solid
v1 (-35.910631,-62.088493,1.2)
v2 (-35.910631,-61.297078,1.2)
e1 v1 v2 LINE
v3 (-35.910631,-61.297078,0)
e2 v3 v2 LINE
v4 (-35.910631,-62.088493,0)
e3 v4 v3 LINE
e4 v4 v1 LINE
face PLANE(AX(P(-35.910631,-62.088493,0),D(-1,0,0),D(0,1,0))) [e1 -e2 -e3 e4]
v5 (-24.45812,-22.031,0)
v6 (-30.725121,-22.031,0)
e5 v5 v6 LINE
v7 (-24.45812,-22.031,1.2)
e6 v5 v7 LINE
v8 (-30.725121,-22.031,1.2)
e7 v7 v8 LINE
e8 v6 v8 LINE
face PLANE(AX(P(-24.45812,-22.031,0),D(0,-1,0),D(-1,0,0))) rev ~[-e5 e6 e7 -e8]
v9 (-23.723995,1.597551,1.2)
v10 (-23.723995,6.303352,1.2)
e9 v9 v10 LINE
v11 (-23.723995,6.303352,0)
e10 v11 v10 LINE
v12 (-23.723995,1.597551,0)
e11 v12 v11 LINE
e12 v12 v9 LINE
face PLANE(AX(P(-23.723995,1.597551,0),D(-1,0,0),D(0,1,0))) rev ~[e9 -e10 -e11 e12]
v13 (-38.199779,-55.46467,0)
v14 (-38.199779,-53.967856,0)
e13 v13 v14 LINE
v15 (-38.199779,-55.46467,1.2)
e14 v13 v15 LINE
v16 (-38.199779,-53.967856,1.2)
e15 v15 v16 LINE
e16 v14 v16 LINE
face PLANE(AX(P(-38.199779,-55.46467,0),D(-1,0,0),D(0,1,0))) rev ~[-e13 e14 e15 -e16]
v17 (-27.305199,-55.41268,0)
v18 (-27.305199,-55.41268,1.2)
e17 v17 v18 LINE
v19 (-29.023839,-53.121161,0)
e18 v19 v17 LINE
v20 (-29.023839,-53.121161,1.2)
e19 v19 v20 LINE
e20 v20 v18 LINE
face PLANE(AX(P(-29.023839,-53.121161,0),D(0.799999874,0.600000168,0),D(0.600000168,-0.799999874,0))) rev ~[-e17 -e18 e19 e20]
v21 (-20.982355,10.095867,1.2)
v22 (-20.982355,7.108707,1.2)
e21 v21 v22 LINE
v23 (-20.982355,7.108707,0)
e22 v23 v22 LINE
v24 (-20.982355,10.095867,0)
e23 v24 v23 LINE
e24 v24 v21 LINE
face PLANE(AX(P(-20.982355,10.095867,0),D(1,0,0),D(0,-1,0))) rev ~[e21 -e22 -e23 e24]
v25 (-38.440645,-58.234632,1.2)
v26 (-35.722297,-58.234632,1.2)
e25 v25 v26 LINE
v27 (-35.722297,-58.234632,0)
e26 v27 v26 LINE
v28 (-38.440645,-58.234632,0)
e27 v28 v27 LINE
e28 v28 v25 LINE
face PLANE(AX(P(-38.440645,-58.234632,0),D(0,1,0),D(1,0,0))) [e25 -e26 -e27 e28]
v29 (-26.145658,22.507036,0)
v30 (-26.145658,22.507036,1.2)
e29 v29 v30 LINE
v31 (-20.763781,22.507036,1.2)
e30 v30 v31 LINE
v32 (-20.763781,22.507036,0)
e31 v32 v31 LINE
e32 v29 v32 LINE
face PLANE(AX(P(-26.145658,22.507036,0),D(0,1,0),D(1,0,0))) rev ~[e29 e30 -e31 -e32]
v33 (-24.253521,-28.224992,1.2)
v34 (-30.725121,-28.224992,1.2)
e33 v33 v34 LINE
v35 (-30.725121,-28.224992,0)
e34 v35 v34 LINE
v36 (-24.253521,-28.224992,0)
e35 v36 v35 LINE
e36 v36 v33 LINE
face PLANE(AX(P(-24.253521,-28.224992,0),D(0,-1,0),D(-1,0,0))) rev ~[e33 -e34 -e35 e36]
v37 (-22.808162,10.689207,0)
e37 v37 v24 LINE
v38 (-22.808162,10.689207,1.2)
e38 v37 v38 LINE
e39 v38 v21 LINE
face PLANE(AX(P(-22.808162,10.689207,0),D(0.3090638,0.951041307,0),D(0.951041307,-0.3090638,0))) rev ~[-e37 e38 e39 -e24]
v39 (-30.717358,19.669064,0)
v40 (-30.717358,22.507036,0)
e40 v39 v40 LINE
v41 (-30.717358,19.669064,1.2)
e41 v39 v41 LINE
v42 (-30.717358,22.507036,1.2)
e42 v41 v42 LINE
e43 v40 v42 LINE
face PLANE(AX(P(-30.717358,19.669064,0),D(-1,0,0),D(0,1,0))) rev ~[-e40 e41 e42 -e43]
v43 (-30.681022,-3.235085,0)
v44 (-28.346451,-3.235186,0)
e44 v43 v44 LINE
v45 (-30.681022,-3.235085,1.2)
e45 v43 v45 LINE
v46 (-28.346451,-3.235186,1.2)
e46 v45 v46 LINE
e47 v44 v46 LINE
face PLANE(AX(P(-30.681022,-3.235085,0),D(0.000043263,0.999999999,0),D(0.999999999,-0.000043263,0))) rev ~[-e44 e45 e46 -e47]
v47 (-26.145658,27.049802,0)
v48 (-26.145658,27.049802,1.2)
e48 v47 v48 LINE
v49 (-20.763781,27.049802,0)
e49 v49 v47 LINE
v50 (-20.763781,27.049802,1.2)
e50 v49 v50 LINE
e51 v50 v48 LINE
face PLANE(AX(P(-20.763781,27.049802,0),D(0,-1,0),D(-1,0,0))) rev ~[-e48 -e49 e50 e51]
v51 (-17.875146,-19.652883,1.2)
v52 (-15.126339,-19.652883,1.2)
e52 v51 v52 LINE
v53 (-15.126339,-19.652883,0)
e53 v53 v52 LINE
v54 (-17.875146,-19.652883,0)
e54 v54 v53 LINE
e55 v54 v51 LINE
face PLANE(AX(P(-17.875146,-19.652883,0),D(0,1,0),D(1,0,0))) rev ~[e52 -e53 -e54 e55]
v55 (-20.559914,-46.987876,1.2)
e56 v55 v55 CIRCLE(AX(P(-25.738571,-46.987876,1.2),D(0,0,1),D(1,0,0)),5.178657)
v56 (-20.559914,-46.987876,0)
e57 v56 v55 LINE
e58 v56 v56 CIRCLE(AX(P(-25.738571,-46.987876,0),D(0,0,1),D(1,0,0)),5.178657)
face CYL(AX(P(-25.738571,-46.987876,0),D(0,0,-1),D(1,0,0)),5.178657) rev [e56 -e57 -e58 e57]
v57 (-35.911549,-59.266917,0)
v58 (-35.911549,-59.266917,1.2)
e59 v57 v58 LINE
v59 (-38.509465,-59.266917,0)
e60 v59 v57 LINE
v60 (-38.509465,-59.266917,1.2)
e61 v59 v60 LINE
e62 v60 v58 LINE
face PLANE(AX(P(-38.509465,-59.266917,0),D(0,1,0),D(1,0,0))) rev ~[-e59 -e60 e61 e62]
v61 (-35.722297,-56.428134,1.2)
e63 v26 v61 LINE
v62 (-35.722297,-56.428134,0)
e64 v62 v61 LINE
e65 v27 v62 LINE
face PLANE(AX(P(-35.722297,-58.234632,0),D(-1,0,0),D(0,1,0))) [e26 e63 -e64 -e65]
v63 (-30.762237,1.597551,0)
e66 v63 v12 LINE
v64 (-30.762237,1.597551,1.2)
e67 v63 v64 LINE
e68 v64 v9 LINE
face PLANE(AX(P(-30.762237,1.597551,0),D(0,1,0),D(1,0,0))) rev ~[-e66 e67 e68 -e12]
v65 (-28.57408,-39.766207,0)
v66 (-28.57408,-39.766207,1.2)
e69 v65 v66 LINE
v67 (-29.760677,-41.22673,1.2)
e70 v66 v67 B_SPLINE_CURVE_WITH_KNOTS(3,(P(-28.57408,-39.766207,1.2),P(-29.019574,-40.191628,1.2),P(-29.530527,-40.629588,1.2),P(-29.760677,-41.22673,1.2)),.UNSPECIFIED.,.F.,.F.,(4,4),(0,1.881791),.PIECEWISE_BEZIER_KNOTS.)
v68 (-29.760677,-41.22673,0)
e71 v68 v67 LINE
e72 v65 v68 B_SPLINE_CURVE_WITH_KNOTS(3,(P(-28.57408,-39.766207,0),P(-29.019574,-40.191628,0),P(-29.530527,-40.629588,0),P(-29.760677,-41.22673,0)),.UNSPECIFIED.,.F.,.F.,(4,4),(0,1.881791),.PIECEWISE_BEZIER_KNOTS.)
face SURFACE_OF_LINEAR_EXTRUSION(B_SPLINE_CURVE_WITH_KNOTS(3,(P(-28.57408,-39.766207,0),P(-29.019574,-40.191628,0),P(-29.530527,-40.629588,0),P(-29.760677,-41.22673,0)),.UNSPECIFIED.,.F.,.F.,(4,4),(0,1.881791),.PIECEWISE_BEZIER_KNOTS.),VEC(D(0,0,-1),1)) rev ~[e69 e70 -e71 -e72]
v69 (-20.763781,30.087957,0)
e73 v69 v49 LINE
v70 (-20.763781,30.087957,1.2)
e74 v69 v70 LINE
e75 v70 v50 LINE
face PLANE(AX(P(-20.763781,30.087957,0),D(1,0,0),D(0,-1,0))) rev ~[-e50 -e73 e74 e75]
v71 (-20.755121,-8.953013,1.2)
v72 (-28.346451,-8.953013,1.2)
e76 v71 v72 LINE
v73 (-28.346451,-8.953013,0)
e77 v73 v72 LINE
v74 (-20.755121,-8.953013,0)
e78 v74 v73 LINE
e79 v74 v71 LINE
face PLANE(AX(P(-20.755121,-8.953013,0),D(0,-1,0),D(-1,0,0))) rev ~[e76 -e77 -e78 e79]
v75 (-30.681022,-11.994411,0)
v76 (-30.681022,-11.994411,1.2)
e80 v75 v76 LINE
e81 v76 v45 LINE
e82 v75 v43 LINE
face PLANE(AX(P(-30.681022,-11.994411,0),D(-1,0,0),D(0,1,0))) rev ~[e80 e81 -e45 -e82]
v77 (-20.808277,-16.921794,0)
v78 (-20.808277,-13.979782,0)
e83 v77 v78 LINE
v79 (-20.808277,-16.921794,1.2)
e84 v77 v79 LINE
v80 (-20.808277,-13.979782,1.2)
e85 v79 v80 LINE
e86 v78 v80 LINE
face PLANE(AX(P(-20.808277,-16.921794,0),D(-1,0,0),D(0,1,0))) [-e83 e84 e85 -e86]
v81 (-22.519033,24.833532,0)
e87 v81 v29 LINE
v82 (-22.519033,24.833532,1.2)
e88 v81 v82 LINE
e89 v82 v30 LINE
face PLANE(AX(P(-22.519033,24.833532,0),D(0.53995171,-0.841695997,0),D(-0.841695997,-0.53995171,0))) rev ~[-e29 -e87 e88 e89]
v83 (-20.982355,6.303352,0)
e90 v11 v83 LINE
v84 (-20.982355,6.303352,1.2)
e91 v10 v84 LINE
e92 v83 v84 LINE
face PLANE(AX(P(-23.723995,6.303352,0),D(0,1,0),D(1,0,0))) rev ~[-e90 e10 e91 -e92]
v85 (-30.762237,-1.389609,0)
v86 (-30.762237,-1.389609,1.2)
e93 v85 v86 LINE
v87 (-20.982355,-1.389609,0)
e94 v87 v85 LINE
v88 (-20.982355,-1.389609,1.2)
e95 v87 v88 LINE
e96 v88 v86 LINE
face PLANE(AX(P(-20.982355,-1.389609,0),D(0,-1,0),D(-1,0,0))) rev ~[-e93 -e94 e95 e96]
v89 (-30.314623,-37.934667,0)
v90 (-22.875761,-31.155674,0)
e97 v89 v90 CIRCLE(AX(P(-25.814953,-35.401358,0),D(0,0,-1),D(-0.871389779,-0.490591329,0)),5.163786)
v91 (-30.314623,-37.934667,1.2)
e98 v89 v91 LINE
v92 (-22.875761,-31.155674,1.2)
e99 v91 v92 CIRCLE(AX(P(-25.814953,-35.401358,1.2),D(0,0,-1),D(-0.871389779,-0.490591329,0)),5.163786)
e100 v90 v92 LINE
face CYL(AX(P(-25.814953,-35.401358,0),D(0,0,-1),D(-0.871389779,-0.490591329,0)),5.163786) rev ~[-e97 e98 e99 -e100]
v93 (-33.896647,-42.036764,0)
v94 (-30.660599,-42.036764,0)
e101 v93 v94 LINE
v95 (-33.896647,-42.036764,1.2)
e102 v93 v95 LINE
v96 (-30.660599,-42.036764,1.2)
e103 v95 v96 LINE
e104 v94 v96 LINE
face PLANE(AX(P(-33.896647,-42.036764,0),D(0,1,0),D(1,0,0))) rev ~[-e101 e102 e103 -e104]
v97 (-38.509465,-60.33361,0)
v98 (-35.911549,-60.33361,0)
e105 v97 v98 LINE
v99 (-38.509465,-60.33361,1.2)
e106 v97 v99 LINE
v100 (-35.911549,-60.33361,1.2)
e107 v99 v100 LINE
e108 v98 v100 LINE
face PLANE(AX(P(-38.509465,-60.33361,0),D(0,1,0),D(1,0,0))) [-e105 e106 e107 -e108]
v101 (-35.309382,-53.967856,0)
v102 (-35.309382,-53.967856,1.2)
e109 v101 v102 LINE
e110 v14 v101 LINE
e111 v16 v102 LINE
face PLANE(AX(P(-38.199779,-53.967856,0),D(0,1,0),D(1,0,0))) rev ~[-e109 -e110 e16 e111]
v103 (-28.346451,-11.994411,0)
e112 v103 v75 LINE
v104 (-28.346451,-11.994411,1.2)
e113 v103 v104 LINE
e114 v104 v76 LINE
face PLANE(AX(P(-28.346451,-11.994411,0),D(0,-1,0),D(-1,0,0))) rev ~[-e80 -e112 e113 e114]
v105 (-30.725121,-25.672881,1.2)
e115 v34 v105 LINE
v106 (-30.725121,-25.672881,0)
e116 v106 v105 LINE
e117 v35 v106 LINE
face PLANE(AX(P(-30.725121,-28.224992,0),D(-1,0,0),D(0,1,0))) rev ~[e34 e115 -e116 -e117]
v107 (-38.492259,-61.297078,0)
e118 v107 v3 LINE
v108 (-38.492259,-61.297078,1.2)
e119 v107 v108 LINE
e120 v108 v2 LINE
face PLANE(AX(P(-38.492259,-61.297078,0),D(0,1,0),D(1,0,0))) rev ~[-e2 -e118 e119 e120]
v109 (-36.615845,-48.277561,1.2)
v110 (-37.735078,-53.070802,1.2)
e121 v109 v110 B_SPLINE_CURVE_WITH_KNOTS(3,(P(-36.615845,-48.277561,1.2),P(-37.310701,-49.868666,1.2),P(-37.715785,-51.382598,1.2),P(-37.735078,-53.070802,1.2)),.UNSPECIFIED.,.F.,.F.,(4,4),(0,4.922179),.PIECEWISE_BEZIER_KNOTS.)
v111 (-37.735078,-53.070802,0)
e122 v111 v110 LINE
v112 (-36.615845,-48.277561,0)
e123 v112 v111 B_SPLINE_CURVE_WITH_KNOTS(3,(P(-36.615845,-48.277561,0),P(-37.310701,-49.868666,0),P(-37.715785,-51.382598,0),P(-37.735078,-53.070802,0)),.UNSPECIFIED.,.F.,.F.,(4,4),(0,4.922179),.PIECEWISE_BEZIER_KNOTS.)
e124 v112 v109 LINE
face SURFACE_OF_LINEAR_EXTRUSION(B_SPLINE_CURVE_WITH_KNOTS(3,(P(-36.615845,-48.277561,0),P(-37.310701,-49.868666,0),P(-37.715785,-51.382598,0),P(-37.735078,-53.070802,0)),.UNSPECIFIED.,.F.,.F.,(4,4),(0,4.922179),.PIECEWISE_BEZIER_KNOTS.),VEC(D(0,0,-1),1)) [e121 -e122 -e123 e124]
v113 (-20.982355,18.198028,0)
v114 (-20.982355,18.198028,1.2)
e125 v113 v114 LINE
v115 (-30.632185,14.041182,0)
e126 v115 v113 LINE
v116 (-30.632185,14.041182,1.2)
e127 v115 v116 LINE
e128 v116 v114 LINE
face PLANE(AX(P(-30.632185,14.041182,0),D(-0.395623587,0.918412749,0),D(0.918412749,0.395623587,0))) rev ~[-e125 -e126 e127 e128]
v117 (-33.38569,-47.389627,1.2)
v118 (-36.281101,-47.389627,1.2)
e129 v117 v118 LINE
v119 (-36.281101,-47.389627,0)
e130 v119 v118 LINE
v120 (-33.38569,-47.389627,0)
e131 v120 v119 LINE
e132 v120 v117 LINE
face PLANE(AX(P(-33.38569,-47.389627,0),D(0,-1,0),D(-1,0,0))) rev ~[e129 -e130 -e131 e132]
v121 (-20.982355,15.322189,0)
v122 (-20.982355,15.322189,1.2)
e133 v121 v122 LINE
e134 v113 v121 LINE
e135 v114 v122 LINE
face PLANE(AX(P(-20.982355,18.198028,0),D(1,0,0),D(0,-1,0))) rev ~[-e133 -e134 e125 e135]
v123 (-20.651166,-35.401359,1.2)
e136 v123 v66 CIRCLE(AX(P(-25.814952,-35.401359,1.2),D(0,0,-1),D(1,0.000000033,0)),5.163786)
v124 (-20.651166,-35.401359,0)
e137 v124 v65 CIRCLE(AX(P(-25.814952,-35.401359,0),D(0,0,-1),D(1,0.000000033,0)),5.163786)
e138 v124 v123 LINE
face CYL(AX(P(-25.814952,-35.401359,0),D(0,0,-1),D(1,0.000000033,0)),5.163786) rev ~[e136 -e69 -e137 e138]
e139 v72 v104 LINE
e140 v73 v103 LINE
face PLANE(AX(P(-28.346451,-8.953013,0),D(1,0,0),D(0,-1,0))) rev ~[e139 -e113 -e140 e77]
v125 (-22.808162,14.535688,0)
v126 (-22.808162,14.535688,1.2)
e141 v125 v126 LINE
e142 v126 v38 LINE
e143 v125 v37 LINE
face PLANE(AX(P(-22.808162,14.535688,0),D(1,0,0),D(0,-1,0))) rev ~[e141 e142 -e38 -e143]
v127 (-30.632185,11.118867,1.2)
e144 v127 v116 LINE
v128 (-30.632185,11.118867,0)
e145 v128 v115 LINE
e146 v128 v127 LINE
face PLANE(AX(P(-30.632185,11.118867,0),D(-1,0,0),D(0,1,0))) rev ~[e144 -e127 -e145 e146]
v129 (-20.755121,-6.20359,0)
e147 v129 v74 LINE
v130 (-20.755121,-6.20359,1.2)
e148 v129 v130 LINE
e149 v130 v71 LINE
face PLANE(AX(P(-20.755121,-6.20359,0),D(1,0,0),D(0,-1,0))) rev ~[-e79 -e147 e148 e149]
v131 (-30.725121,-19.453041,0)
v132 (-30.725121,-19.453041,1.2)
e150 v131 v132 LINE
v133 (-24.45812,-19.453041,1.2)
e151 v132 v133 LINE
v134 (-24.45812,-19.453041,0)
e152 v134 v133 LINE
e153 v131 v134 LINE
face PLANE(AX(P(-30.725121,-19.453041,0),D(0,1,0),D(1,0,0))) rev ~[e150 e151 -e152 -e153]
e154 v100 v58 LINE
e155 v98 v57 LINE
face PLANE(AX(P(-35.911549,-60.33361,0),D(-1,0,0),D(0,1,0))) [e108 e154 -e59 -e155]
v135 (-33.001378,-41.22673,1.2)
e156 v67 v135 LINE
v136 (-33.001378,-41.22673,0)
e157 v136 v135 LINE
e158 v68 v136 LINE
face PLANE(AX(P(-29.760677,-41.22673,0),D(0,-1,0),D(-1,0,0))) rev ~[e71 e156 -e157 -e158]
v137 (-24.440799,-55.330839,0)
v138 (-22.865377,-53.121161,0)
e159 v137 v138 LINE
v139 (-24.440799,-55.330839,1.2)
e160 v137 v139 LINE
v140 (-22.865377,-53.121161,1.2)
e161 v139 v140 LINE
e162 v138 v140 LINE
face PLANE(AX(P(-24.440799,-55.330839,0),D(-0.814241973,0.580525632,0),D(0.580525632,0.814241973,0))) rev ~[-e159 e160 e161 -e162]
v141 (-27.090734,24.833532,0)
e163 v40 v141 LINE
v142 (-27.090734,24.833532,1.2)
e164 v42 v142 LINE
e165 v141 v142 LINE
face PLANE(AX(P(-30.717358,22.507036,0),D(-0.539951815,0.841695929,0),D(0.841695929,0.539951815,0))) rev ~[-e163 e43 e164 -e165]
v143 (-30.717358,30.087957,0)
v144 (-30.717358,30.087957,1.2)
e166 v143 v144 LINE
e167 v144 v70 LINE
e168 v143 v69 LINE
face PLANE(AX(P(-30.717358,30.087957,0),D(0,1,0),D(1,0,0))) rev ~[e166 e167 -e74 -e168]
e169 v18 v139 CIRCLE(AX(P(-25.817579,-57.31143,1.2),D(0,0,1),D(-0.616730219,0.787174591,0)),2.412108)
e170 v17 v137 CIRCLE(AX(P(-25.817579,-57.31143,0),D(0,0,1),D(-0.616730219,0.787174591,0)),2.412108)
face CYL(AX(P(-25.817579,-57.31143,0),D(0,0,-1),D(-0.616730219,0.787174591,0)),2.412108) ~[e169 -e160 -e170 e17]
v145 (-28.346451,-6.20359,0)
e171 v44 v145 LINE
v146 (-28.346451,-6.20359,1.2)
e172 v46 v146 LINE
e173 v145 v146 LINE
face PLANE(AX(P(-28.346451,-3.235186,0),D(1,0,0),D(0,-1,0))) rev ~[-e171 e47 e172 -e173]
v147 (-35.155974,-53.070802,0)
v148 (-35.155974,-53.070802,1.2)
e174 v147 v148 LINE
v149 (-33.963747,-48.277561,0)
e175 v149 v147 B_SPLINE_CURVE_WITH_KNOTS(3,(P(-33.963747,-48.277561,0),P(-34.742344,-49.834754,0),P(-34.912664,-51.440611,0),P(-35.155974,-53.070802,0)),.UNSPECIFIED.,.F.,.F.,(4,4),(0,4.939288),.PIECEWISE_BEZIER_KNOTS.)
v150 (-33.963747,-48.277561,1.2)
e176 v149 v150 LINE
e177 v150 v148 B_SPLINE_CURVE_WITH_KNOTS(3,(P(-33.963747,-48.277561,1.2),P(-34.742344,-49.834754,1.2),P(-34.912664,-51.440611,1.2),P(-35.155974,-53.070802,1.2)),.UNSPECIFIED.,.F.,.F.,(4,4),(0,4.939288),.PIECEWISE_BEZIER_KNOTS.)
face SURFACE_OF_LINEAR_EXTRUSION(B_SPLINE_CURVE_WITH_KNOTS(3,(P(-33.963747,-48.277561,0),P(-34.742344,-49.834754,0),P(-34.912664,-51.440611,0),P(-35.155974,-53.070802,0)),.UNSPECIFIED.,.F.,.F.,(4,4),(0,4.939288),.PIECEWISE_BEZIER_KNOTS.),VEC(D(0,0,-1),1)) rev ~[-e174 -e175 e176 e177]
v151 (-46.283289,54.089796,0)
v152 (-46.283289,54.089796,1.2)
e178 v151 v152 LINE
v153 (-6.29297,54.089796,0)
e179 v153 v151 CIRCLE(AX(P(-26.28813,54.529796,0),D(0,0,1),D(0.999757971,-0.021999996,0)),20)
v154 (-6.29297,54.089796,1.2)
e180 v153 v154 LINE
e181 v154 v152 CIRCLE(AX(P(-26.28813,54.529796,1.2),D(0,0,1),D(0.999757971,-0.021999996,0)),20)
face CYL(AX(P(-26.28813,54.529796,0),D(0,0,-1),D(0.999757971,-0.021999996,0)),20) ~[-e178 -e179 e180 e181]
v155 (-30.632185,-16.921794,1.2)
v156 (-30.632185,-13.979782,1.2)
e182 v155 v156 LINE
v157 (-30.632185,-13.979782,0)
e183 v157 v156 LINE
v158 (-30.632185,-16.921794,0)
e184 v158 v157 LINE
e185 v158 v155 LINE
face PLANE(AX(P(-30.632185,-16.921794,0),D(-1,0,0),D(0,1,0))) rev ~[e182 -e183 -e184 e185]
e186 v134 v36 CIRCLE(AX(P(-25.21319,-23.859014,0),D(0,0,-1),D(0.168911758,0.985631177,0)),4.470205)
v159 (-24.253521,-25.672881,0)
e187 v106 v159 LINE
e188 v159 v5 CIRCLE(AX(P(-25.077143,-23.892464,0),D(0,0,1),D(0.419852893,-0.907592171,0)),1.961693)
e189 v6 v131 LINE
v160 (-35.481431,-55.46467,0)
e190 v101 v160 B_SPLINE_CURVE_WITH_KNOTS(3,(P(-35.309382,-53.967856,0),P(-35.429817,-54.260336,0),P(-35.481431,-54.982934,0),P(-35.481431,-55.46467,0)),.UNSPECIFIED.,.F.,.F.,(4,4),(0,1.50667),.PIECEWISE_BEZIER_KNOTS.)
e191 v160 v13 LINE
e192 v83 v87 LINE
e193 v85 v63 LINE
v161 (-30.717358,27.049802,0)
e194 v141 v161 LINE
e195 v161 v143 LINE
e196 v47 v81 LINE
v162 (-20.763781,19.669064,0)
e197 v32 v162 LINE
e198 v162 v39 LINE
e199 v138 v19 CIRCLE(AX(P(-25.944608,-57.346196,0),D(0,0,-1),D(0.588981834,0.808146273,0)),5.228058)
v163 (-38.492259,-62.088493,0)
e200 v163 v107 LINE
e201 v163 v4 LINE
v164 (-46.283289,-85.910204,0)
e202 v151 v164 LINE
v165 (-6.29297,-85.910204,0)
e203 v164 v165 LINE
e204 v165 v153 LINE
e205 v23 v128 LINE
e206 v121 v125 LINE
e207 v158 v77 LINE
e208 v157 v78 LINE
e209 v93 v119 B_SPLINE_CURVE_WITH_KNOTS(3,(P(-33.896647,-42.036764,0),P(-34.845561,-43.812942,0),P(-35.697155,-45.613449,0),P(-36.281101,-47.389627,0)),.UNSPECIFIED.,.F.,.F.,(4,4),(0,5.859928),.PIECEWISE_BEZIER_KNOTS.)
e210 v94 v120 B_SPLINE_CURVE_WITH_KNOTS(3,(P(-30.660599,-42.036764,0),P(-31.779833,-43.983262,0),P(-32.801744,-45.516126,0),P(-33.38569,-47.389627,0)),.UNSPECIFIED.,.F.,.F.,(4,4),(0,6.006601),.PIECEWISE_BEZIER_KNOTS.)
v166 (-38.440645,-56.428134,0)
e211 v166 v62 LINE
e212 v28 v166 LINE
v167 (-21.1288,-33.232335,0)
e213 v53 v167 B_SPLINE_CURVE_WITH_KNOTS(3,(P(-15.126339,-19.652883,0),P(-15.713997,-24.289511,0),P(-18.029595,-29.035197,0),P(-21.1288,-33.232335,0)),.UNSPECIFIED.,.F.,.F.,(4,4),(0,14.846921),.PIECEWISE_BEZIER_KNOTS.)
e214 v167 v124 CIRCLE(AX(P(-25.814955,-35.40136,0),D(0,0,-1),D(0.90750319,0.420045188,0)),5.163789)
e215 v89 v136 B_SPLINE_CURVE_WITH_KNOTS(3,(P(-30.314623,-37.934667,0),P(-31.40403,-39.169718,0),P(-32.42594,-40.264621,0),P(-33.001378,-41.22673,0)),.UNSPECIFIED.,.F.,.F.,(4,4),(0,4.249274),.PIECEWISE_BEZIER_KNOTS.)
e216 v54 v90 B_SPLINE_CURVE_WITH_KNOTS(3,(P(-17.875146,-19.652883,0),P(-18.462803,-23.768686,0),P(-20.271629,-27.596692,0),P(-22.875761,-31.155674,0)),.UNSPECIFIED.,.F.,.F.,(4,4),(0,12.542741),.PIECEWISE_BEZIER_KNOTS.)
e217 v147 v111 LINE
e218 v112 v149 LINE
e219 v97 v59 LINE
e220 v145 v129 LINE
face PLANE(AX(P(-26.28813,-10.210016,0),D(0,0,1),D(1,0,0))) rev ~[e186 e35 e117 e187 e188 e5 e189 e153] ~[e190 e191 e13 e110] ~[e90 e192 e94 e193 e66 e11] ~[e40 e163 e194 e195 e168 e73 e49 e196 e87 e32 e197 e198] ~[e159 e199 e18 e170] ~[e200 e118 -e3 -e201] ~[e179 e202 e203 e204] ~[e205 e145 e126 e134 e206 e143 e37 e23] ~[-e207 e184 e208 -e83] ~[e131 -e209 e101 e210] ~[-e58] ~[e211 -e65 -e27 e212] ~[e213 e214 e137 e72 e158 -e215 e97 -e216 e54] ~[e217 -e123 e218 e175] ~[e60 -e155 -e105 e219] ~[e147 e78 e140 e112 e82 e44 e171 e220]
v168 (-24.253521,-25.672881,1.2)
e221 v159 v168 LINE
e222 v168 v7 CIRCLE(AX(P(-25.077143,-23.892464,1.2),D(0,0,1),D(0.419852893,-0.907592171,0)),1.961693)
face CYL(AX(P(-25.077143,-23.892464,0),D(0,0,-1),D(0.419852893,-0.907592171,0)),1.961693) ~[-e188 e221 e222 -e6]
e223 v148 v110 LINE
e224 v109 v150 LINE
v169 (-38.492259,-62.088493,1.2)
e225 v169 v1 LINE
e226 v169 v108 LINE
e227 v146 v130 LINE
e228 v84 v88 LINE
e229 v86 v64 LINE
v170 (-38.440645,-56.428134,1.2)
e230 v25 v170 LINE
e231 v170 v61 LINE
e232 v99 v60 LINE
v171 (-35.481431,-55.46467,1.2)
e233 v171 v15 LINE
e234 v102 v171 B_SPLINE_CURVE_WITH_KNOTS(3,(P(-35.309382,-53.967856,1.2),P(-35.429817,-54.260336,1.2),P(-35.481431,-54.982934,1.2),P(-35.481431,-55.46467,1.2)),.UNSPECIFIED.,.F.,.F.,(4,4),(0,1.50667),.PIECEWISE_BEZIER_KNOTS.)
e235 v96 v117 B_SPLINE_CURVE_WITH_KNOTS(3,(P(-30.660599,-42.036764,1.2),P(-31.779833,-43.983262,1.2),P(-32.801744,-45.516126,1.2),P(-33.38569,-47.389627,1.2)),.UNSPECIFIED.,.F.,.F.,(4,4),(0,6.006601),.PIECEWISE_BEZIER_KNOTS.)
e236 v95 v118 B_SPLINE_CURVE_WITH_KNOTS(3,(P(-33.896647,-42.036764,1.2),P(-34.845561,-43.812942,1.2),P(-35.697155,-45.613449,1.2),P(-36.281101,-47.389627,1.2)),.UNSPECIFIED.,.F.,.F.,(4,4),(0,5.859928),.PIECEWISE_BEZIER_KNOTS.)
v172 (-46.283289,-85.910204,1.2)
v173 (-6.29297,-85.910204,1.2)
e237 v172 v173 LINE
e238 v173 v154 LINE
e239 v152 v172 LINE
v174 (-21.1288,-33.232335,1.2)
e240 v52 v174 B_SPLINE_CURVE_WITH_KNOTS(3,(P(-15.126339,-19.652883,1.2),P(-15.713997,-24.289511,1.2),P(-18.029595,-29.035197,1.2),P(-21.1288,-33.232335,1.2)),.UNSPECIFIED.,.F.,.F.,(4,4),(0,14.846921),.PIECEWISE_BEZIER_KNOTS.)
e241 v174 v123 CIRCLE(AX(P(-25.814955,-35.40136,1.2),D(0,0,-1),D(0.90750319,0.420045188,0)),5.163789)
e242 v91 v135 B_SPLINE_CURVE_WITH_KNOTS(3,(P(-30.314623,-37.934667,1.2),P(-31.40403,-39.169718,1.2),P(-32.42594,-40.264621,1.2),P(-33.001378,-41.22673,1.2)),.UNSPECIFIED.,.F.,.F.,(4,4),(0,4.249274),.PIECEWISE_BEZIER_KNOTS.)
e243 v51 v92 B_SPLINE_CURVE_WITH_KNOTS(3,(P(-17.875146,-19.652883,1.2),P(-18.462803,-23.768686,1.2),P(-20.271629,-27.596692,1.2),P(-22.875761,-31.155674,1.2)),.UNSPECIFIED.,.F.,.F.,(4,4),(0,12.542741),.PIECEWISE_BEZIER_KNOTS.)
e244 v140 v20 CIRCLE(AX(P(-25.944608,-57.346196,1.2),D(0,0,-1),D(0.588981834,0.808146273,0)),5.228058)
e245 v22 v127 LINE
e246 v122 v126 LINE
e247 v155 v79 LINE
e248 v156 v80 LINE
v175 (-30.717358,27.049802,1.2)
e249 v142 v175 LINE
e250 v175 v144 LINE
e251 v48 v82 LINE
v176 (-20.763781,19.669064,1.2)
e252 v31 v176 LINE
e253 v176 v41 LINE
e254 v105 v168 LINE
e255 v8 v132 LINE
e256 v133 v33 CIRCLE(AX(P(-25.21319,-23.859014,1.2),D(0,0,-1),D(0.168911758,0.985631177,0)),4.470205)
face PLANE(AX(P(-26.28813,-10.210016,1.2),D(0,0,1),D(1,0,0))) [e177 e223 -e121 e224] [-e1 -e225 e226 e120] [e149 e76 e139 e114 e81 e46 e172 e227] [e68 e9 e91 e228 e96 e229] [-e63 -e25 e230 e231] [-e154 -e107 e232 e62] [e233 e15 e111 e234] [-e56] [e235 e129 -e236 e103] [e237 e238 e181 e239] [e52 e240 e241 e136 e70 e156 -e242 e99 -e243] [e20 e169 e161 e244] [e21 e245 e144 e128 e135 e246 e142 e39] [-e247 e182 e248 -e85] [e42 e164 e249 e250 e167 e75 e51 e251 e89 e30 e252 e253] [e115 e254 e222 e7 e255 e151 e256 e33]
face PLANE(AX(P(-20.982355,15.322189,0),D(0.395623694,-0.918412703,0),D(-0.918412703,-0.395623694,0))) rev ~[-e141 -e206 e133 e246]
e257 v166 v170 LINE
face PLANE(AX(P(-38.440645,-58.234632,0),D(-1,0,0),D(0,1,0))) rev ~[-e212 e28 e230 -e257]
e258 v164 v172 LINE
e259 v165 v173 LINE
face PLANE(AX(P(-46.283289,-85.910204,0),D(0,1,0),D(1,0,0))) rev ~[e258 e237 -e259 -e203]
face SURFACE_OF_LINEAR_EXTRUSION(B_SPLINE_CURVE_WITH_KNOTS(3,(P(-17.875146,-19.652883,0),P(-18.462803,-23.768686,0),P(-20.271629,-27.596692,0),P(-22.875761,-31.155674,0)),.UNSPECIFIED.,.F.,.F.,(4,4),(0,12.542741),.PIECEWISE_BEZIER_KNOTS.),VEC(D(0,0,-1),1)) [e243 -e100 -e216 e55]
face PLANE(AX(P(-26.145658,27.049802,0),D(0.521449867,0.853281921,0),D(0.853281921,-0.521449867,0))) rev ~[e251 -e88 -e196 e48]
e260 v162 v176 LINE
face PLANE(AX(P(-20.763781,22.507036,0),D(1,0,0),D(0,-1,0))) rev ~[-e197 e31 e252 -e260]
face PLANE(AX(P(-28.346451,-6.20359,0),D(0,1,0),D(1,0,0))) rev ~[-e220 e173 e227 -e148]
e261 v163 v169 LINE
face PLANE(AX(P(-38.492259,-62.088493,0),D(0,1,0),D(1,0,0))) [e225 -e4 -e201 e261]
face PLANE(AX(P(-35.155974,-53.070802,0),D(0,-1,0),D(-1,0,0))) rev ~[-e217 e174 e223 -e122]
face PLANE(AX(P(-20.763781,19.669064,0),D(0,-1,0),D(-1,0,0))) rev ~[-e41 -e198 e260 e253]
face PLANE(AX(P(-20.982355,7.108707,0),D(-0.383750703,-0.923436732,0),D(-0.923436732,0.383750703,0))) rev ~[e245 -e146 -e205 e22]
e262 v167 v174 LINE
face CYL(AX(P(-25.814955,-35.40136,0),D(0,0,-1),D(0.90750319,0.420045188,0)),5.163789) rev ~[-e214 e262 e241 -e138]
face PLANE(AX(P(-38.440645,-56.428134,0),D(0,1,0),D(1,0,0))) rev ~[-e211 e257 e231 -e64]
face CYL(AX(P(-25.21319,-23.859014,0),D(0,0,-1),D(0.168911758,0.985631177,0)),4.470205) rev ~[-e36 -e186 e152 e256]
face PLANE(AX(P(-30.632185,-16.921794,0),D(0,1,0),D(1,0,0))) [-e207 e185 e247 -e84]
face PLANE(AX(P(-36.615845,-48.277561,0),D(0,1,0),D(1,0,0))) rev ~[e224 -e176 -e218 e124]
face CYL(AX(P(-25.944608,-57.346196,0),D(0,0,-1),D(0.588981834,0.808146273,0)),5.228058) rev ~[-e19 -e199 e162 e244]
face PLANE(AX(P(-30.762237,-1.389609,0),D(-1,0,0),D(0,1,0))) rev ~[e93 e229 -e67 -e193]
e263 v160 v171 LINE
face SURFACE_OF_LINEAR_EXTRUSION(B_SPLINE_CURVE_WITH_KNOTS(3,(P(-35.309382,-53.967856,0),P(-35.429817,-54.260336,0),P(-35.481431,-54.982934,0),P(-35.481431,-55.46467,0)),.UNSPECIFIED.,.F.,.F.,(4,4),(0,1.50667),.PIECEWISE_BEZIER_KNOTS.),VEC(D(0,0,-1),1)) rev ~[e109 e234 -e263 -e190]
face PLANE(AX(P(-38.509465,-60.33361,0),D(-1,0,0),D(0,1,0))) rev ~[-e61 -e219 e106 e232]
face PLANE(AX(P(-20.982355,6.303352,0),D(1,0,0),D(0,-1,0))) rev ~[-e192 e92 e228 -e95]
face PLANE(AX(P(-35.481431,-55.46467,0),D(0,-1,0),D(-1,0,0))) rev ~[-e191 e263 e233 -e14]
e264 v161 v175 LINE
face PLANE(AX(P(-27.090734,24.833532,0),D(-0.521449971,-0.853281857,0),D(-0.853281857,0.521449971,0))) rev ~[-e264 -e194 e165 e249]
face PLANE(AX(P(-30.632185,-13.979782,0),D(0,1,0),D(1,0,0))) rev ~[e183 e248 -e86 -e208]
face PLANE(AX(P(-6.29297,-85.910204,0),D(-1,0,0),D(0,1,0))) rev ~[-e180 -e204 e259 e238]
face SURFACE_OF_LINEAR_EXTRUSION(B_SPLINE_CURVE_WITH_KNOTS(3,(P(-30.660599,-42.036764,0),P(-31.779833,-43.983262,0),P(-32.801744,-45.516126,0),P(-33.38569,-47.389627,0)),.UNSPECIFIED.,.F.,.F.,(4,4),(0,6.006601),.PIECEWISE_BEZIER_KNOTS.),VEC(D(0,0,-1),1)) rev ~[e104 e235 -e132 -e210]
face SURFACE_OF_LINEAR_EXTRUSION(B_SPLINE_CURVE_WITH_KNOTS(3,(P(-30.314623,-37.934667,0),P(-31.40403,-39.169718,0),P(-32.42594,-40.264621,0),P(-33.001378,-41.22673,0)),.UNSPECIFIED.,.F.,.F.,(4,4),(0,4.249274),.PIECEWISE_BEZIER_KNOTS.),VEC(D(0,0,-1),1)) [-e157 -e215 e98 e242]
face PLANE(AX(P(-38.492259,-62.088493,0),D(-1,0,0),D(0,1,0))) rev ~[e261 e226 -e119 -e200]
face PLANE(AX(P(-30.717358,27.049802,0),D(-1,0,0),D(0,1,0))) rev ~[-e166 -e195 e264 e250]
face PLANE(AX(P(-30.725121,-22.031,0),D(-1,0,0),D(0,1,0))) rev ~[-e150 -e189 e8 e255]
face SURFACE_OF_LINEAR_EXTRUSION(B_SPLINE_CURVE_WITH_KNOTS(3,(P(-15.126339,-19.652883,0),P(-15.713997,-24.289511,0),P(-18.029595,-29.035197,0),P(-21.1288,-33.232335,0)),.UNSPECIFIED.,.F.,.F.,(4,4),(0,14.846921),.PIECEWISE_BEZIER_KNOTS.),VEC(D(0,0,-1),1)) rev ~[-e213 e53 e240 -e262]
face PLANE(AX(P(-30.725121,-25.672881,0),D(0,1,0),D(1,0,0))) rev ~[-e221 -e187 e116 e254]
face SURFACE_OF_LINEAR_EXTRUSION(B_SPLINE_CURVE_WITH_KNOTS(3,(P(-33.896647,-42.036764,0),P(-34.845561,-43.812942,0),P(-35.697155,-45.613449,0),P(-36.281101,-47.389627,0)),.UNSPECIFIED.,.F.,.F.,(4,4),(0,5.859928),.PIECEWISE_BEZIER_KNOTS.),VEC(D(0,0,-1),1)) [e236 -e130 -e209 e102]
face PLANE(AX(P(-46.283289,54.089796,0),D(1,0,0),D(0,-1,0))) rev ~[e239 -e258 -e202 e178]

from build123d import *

# Parameters (mm, degrees)
F0_W     = 2.581628
F0_H     = 0.791415
F0_W_2   = 2.597917
F0_H_2   = 1.066693
F0_W_3   = 2.718348
F0_H_3   = 1.806498
F0_R     = 5.178657
F0_W_4   = 9.823907
F0_H_4   = 2.942012
F1_DEPTH = 1.2


with BuildPart() as f1:
    # F0 (on Top) → F1 (new body)
    with BuildSketch(Plane.XY):
        with BuildLine():
            Line((-6.29297, -85.910204), (-6.29297, 54.089796))
            ThreePointArc((-6.29297, 54.089796), (-26.288129, 74.529796), (-46.283289, 54.089796))
            Line((-46.283289, 54.089796), (-46.283289, -85.910204))
            Line((-46.283289, -85.910204), (-6.29297, -85.910204))
        make_face()
        with Locations((-37.201445, -61.692785)):
            Rectangle(F0_W, F0_H, mode=Mode.SUBTRACT)
        with Locations((-37.210507, -59.800263)):
            Rectangle(F0_W_2, F0_H_2, mode=Mode.SUBTRACT)
        with Locations((-37.081471, -57.331383)):
            Rectangle(F0_W_3, F0_H_3, mode=Mode.SUBTRACT)
        with BuildLine():
            Line((-35.481431, -55.46467), (-38.199779, -55.46467))
            Line((-38.199779, -55.46467), (-38.199779, -53.967856))
            Line((-38.199779, -53.967856), (-35.309382, -53.967856))
            add(Edge.make_bspline(
                [(-35.309382, -53.967856), (-35.429817, -54.260336), (-35.481431, -54.982934), (-35.481431, -55.46467)],
                knots=[0, 0, 0, 0, 1.50667, 1.50667, 1.50667, 1.50667], degree=3))
        make_face(mode=Mode.SUBTRACT)
        with BuildLine():
            Line((-35.155974, -53.070802), (-37.735078, -53.070802))
            add(Edge.make_bspline(
                [(-36.615845, -48.277561), (-37.310701, -49.868666), (-37.715785, -51.382598), (-37.735078, -53.070802)],
                knots=[0, 0, 0, 0, 4.922179, 4.922179, 4.922179, 4.922179], degree=3))
            Line((-36.615845, -48.277561), (-33.963747, -48.277561))
            add(Edge.make_bspline(
                [(-33.963747, -48.277561), (-34.742344, -49.834754), (-34.912664, -51.440611), (-35.155974, -53.070802)],
                knots=[0, 0, 0, 0, 4.939288, 4.939288, 4.939288, 4.939288], degree=3))
        make_face(mode=Mode.SUBTRACT)
        with BuildLine():
            add(Edge.make_bspline(
                [(-33.896647, -42.036764), (-34.845561, -43.812942), (-35.697155, -45.613449), (-36.281101, -47.389627)],
                knots=[0, 0, 0, 0, 5.859928, 5.859928, 5.859928, 5.859928], degree=3))
            Line((-33.896647, -42.036764), (-30.660599, -42.036764))
            add(Edge.make_bspline(
                [(-30.660599, -42.036764), (-31.779833, -43.983262), (-32.801744, -45.516126), (-33.38569, -47.389627)],
                knots=[0, 0, 0, 0, 6.006601, 6.006601, 6.006601, 6.006601], degree=3))
            Line((-33.38569, -47.389627), (-36.281101, -47.389627))
        make_face(mode=Mode.SUBTRACT)
        with BuildLine():
            Line((-29.023839, -53.121161), (-27.305199, -55.41268))
            ThreePointArc((-27.305199, -55.41268), (-25.748689, -59.722554), (-24.440799, -55.330839))
            Line((-24.440799, -55.330839), (-22.865377, -53.121161))
            ThreePointArc((-22.865377, -53.121161), (-25.944608, -62.574254), (-29.023839, -53.121161))
        make_face(mode=Mode.SUBTRACT)
        with Locations((-25.738571, -46.987876)):
            Circle(F0_R, mode=Mode.SUBTRACT)
        with BuildLine():
            add(Edge.make_bspline(
                [(-17.875146, -19.652883), (-18.462803, -23.768686), (-20.271629, -27.596692), (-22.875761, -31.155674)],
                knots=[0, 0, 0, 0, 12.542741, 12.542741, 12.542741, 12.542741], degree=3))
            Line((-17.875146, -19.652883), (-15.126339, -19.652883))
            add(Edge.make_bspline(
                [(-15.126339, -19.652883), (-15.713997, -24.289511), (-18.029595, -29.035197), (-21.1288, -33.232335)],
                knots=[0, 0, 0, 0, 14.846921, 14.846921, 14.846921, 14.846921], degree=3))
            ThreePointArc((-21.1288, -33.232335), (-20.771988, -34.290864), (-20.651166, -35.401359))
            ThreePointArc((-20.651166, -35.401359), (-23.323252, -39.924203), (-28.57408, -39.766207))
            add(Edge.make_bspline(
                [(-28.57408, -39.766207), (-29.019574, -40.191628), (-29.530527, -40.629588), (-29.760677, -41.22673)],
                knots=[0, 0, 0, 0, 1.881791, 1.881791, 1.881791, 1.881791], degree=3))
            Line((-29.760677, -41.22673), (-33.001378, -41.22673))
            add(Edge.make_bspline(
                [(-30.314623, -37.934667), (-31.40403, -39.169718), (-32.42594, -40.264621), (-33.001378, -41.22673)],
                knots=[0, 0, 0, 0, 4.249274, 4.249274, 4.249274, 4.249274], degree=3))
            ThreePointArc((-30.314623, -37.934667), (-29.293093, -31.584655), (-22.875761, -31.155674))
        make_face(mode=Mode.SUBTRACT)
        with BuildLine():
            Line((-30.725121, -25.672881), (-24.253521, -25.672881))
            ThreePointArc((-24.253521, -25.672881), (-23.118539, -23.782431), (-24.45812, -22.031))
            Line((-24.45812, -22.031), (-30.725121, -22.031))
            Line((-30.725121, -22.031), (-30.725121, -19.453041))
            Line((-30.725121, -19.453041), (-24.45812, -19.453041))
            ThreePointArc((-24.45812, -19.453041), (-20.744201, -23.754778), (-24.253521, -28.224992))
            Line((-24.253521, -28.224992), (-30.725121, -28.224992))
            Line((-30.725121, -28.224992), (-30.725121, -25.672881))
        make_face(mode=Mode.SUBTRACT)
        with Locations((-25.720231, -15.450788)):
            Rectangle(F0_W_4, F0_H_4, mode=Mode.SUBTRACT)
        Polygon((-30.681022, -11.994411), (-30.681022, -3.235085), (-28.346451, -3.235186), (-28.346451, -6.20359), (-20.755121, -6.20359), (-20.755121, -8.953013), (-28.346451, -8.953013), (-28.346451, -11.994411), align=None, mode=Mode.SUBTRACT)
        Polygon((-30.762237, -1.389609), (-30.762237, 1.597551), (-23.723995, 1.597551), (-23.723995, 6.303352), (-20.982355, 6.303352), (-20.982355, -1.389609), align=None, mode=Mode.SUBTRACT)
        Polygon((-30.632185, 14.041182), (-20.982355, 18.198028), (-20.982355, 15.322189), (-22.808162, 14.535688), (-22.808162, 10.689207), (-20.982355, 10.095867), (-20.982355, 7.108707), (-30.632185, 11.118867), align=None, mode=Mode.SUBTRACT)
        Polygon((-20.763781, 22.507036), (-20.763781, 19.669064), (-30.717358, 19.669064), (-30.717358, 22.507036), (-27.090734, 24.833532), (-30.717358, 27.049802), (-30.717358, 30.087957), (-20.763781, 30.087957), (-20.763781, 27.049802), (-26.145658, 27.049802), (-22.519033, 24.833532), (-26.145658, 22.507036), align=None, mode=Mode.SUBTRACT)
    extrude(amount=F1_DEPTH)


solid = f1.part
